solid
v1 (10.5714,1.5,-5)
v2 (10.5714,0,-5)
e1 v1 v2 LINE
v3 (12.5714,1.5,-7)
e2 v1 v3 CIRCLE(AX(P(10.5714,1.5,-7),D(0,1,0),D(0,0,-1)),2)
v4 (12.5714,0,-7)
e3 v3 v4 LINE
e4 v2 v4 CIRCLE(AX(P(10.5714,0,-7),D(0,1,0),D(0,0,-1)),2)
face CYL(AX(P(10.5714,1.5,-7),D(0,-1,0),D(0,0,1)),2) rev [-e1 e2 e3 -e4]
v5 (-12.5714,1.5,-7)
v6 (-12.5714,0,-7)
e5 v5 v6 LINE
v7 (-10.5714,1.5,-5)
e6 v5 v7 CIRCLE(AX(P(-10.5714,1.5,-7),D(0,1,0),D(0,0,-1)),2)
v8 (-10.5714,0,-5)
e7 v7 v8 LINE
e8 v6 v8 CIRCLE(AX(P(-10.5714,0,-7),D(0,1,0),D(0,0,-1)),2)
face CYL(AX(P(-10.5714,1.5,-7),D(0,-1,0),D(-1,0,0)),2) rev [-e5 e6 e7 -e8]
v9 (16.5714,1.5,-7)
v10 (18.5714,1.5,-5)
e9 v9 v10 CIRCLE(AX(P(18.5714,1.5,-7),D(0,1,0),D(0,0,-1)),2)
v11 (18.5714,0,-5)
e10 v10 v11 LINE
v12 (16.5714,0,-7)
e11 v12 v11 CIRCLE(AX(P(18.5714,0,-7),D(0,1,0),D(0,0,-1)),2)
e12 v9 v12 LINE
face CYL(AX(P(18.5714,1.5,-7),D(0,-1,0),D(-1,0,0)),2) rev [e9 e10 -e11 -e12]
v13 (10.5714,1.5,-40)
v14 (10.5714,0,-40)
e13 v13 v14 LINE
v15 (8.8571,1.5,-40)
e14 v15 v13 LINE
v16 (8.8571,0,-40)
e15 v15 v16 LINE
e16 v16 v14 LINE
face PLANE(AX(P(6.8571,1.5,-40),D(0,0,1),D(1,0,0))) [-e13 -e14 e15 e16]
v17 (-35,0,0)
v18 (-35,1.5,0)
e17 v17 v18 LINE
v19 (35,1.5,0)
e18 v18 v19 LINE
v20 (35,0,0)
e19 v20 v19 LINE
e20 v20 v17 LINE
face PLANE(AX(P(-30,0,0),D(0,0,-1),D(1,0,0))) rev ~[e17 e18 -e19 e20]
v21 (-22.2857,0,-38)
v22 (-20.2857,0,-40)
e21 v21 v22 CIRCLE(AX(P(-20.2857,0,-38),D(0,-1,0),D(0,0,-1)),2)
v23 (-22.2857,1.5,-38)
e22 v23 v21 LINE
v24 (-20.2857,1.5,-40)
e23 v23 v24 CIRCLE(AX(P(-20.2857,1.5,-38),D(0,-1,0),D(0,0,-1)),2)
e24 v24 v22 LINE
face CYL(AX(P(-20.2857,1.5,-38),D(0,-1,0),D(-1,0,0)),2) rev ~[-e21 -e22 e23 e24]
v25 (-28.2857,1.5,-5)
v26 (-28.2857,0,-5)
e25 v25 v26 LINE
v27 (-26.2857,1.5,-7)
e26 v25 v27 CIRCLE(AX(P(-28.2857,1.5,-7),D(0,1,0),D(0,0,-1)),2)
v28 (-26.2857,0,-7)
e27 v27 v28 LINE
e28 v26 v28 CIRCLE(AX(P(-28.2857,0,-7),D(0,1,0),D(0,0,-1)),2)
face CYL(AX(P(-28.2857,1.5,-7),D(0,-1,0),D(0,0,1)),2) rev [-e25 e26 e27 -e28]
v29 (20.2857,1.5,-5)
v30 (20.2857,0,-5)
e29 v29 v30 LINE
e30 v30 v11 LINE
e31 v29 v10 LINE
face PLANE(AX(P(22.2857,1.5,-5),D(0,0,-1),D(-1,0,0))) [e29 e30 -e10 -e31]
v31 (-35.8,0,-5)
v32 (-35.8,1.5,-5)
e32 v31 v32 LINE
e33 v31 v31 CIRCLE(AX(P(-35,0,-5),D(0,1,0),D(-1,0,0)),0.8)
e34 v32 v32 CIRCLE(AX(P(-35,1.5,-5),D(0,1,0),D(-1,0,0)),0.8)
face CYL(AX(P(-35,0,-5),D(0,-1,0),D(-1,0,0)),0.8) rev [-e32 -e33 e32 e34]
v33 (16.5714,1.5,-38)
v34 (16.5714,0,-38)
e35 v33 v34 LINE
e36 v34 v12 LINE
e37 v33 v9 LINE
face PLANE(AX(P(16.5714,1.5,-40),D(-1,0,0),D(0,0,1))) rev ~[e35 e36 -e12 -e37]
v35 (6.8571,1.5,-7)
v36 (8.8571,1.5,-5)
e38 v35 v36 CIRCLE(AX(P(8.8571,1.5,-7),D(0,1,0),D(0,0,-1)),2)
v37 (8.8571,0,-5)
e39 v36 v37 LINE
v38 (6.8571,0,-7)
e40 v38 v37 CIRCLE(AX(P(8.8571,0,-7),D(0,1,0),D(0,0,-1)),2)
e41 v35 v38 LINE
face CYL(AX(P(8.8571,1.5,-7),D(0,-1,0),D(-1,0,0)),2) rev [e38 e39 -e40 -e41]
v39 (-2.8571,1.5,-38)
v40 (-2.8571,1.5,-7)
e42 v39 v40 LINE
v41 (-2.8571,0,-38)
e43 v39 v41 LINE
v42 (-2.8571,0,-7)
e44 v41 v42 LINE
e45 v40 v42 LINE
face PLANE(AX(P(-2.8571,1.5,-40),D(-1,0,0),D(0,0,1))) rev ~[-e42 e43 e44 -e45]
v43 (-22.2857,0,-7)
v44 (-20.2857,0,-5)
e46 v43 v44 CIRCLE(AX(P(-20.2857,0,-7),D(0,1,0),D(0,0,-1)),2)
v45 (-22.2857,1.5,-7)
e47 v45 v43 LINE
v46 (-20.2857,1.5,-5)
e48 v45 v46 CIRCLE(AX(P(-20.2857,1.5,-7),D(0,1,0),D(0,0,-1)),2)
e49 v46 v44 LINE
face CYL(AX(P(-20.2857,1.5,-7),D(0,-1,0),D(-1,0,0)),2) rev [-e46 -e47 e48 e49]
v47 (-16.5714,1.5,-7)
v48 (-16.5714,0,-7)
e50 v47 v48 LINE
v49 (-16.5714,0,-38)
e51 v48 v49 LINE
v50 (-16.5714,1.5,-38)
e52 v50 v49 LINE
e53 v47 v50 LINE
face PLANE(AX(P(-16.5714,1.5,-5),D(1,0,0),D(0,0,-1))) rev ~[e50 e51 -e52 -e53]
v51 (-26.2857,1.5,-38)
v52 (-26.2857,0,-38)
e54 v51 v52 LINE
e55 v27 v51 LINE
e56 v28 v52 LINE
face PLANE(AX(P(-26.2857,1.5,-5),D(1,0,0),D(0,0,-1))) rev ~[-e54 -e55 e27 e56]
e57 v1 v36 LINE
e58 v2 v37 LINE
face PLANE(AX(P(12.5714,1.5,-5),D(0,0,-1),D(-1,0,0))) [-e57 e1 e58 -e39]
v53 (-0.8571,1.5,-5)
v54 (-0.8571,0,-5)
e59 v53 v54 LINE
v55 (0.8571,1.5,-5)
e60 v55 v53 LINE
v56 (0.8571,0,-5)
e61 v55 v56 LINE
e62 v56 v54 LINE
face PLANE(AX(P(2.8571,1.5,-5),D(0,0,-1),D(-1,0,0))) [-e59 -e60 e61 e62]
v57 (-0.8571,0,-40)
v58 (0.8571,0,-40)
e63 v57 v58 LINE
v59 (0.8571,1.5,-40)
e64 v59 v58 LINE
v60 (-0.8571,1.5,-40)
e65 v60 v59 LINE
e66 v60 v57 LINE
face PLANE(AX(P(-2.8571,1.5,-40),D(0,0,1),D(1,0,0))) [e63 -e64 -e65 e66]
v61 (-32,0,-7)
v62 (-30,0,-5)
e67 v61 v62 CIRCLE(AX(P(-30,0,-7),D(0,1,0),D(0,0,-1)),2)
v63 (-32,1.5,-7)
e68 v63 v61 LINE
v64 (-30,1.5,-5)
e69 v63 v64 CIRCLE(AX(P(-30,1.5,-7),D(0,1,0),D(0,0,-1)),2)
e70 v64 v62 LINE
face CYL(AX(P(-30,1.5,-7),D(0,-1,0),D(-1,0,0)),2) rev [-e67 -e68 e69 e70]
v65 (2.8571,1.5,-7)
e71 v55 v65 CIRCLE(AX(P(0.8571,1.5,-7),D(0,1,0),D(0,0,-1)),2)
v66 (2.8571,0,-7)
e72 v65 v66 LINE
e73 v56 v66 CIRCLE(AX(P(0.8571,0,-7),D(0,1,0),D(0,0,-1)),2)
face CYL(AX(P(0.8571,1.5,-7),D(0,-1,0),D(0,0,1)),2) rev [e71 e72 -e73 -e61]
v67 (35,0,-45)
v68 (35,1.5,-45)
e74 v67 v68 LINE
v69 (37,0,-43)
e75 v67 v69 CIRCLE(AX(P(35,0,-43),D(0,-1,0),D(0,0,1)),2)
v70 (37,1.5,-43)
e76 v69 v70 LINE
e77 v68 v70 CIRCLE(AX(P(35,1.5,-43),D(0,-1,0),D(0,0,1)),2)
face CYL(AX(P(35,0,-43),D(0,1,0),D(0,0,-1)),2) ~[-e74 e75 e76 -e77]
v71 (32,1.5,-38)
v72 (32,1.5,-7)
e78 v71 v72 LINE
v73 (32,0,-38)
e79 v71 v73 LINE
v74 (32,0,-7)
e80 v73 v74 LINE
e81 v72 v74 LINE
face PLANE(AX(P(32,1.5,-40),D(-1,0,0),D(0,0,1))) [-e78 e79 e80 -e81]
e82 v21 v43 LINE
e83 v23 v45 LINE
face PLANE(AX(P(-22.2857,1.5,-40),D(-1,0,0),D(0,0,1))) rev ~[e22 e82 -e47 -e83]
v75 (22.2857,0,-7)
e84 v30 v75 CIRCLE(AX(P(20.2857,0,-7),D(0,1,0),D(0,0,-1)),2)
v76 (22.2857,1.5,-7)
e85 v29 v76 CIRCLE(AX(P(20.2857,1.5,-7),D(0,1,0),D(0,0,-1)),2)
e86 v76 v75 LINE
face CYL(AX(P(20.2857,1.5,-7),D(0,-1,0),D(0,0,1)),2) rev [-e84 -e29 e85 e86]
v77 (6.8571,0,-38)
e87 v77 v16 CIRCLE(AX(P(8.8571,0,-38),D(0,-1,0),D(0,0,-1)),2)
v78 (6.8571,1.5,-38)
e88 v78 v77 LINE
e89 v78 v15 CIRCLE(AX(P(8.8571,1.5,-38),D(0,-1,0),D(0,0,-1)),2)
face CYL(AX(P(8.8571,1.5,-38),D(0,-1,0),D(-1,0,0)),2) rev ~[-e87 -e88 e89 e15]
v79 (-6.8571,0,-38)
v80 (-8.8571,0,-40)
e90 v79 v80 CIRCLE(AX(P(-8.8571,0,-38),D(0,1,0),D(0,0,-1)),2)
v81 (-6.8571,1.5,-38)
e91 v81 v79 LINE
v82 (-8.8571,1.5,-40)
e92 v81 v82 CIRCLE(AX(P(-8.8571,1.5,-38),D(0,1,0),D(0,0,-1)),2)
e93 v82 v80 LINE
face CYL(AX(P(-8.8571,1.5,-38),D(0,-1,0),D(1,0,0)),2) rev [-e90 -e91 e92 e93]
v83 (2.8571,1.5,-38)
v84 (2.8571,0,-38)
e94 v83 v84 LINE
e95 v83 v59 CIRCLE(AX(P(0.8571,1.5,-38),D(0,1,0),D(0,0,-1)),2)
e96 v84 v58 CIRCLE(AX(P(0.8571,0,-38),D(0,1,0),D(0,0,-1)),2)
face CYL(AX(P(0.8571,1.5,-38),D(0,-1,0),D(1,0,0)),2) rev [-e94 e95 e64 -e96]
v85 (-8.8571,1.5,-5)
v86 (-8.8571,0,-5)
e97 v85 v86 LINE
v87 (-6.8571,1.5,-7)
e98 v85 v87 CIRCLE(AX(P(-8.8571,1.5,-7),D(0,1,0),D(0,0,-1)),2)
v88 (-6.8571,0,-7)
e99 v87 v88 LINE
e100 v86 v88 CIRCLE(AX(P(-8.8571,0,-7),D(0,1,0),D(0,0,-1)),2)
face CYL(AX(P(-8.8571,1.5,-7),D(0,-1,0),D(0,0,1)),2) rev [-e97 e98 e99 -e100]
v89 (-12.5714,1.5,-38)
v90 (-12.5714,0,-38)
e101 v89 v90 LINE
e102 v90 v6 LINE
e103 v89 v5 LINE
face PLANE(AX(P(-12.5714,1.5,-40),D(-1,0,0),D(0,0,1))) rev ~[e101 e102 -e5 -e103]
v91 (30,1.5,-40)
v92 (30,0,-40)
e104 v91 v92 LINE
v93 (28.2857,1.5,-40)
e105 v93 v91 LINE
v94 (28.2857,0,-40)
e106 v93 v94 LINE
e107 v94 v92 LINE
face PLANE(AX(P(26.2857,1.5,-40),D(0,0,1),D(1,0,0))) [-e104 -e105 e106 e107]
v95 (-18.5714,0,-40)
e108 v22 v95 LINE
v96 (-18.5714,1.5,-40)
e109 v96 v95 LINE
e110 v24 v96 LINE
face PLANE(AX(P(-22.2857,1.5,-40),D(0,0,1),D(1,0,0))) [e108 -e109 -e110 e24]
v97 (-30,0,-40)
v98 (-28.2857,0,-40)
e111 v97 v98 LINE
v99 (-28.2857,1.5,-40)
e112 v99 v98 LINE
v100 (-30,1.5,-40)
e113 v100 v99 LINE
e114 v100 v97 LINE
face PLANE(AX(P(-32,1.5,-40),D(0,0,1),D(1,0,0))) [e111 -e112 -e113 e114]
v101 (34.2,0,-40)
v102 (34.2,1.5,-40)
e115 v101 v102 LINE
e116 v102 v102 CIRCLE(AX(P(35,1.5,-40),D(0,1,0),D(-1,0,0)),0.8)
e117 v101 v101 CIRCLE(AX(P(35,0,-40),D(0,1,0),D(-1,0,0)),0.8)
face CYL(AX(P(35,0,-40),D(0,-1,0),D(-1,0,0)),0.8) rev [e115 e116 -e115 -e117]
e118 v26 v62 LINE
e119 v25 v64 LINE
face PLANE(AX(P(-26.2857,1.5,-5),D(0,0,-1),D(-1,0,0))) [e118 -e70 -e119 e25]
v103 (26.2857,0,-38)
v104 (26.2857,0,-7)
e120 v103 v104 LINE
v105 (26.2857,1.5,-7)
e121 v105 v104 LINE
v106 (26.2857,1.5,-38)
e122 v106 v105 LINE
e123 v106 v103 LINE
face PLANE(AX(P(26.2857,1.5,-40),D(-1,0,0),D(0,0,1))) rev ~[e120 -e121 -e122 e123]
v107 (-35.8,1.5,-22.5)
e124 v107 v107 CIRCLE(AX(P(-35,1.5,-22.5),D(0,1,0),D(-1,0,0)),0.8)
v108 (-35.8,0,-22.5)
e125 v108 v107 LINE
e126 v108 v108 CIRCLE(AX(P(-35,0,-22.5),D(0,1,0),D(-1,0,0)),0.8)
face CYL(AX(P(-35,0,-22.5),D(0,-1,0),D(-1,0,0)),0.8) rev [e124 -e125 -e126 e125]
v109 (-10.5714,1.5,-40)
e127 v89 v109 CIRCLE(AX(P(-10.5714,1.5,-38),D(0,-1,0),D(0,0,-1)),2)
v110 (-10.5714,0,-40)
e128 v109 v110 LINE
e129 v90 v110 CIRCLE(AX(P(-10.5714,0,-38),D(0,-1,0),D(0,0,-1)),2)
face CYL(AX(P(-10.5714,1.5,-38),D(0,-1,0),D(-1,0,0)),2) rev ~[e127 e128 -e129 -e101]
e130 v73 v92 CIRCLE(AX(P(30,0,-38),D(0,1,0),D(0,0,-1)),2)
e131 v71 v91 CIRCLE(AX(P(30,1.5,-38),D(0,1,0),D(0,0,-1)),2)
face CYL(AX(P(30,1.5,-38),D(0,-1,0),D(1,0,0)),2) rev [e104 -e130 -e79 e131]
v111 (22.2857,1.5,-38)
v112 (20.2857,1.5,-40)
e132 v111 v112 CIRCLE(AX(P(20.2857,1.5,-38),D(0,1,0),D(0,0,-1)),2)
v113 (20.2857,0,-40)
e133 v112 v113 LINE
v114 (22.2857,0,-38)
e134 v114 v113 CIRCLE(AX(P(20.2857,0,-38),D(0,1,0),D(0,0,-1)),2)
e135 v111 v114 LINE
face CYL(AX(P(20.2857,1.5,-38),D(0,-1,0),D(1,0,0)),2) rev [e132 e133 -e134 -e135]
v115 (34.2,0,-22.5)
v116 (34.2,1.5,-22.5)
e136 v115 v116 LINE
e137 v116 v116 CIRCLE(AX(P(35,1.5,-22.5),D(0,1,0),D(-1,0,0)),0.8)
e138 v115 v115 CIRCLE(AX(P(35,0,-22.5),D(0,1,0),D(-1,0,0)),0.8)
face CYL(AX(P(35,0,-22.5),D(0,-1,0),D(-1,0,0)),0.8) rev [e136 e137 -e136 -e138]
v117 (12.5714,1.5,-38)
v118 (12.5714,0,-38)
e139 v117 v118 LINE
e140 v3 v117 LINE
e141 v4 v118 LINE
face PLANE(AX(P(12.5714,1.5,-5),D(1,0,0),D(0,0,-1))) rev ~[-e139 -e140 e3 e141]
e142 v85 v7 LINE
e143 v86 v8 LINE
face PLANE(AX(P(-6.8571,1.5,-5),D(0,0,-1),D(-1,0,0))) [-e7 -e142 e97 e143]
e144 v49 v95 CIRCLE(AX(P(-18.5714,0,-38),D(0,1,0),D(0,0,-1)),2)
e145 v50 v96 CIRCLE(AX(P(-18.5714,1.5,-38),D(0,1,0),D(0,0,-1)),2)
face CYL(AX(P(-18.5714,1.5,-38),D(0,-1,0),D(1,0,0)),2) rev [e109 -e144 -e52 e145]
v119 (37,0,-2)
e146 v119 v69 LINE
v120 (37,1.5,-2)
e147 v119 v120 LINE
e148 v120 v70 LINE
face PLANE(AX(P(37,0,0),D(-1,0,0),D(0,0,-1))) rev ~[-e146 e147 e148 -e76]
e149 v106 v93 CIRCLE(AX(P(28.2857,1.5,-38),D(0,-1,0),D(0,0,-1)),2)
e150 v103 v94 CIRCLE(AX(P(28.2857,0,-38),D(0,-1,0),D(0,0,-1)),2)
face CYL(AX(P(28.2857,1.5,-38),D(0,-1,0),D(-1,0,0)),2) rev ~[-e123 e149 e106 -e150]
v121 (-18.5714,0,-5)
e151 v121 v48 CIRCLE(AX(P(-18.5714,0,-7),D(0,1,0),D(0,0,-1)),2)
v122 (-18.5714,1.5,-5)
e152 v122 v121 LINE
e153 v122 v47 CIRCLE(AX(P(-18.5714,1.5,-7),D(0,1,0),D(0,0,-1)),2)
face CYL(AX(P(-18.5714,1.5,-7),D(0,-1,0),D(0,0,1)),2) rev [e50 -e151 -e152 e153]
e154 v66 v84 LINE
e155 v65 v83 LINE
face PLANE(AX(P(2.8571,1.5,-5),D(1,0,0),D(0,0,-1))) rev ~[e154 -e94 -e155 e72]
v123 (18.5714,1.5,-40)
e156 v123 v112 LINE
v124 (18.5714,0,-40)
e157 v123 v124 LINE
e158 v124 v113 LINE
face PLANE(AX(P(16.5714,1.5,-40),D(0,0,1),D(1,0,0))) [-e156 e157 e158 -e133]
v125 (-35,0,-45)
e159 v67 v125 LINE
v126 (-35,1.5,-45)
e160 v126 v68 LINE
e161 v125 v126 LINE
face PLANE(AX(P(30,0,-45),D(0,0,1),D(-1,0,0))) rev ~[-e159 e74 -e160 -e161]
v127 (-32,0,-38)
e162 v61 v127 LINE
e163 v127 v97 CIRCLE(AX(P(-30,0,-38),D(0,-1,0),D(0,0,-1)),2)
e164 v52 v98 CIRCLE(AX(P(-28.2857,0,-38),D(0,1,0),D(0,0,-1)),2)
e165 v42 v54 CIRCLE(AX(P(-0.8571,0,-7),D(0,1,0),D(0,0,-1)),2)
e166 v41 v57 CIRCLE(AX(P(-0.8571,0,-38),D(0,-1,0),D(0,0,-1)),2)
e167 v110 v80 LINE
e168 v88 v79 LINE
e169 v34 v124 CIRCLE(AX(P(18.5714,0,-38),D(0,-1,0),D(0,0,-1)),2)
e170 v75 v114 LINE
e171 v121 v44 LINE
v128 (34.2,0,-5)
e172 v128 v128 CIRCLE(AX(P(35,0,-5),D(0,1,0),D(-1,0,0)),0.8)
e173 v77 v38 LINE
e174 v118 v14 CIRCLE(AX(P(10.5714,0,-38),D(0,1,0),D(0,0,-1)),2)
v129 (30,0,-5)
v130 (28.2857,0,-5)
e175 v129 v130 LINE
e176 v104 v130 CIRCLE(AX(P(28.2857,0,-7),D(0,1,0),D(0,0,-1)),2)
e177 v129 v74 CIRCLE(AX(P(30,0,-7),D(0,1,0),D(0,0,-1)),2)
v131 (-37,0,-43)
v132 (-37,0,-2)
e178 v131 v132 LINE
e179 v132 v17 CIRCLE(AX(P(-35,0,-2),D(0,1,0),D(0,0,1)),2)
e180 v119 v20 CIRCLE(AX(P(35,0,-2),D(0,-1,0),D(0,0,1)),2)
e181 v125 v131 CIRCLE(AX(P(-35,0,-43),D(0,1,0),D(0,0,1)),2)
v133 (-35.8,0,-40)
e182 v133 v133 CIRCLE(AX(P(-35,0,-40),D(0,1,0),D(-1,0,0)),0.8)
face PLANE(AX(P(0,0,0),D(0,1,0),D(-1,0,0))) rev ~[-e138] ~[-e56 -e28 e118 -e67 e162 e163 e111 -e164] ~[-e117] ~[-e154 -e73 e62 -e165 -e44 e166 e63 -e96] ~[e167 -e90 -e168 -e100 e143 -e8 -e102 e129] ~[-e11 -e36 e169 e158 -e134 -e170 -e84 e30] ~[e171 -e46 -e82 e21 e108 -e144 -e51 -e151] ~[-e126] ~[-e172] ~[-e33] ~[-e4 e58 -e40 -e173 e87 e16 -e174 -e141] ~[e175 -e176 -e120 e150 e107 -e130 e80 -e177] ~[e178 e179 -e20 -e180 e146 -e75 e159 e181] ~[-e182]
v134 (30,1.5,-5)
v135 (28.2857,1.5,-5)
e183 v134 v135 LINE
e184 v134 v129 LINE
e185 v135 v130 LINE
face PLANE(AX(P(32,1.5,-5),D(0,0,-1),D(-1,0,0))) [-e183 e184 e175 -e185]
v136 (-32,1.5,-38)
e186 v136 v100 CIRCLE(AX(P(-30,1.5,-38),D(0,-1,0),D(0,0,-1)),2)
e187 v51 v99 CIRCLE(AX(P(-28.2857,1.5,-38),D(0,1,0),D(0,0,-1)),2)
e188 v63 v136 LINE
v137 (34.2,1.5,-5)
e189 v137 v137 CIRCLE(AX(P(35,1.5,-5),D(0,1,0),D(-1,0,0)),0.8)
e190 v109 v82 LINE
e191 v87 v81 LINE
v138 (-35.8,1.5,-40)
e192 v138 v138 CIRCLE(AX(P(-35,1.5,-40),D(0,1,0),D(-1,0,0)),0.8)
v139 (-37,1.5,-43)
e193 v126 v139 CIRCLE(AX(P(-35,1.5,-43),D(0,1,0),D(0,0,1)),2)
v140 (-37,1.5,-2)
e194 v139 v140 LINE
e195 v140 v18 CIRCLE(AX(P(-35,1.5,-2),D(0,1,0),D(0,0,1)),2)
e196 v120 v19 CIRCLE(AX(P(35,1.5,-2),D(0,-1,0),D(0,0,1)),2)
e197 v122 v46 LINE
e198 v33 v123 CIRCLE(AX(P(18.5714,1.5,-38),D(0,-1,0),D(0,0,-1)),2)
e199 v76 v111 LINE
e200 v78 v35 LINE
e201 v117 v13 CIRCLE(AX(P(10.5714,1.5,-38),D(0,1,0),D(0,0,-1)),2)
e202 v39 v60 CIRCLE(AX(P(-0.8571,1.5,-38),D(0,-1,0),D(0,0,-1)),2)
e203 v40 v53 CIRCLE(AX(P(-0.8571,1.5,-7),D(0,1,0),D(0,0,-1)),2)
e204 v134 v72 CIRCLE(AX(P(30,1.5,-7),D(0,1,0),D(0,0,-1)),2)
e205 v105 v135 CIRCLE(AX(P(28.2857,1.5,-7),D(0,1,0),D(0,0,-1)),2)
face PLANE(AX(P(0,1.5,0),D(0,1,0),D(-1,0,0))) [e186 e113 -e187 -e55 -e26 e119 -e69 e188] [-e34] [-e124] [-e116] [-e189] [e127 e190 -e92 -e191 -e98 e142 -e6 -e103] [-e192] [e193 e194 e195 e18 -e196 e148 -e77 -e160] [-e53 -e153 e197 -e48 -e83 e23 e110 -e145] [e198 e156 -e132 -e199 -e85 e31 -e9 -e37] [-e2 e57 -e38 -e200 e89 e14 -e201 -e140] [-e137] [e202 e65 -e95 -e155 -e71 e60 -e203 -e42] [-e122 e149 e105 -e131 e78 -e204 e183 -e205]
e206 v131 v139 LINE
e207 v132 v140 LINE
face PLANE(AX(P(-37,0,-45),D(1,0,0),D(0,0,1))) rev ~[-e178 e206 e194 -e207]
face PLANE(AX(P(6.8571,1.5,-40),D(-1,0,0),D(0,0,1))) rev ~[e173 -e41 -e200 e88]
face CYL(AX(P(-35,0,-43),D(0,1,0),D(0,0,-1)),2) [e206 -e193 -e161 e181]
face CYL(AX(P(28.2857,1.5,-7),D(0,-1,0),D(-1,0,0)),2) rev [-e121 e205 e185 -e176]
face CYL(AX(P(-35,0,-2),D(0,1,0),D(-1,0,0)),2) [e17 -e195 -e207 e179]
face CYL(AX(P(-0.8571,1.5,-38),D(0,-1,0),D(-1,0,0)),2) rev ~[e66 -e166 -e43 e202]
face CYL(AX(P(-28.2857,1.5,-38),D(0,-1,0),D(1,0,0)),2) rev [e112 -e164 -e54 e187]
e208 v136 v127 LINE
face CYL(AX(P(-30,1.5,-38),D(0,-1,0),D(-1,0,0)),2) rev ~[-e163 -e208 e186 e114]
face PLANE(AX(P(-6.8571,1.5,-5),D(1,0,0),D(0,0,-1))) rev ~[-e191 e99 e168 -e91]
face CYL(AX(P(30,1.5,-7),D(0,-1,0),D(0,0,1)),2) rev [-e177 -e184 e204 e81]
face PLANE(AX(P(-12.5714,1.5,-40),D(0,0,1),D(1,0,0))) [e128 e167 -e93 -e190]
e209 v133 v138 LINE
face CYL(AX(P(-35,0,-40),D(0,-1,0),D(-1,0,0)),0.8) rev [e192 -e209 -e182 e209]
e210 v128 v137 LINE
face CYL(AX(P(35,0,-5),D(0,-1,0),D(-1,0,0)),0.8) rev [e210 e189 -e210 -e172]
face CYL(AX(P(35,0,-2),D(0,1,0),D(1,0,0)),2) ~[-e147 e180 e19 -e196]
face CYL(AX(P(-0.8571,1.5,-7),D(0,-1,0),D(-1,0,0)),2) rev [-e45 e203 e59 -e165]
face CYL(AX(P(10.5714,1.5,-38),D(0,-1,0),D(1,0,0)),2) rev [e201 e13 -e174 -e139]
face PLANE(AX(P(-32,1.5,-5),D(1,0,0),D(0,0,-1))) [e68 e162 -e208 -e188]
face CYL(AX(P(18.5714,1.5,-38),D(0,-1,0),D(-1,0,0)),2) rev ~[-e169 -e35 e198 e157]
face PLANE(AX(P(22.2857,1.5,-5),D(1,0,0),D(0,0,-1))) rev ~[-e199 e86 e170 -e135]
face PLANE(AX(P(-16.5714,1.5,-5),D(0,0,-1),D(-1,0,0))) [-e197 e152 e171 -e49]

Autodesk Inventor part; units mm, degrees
ref_plane "YZ Plane" through (0, 0, 0) normal (1, 0, 0) x (0, 1, 0)
ref_plane "XZ Plane" through (0, 0, 0) normal (0, 1, 0) x (-1, 0, 0)
ref_plane "XY Plane" through (0, 0, 0) normal (0, 0, 1) x (1, 0, 0)
sketch "スケッチ1" plane through (0, 0, 0) normal (0, 1, 0) x (-1, 0, 0)
  line L0 (30, 0) -> (-30, 0)
  line L1 (-30, 0) -> (-30, -45)
  line L2 (-30, -45) -> (30, -45)
  line L3 (30, -45) -> (30, 0)
  line L4 (37, 0) -> (30, 0)
  line L5 (30, 0) -> (30, -45)
  line L6 (30, -45) -> (37, -45)
  line L7 (37, -45) -> (37, 0)
  line L8 (-30, 0) -> (-37, 0)
  line L9 (-37, 0) -> (-37, -45)
  line L10 (-37, -45) -> (-30, -45)
  line L11 (-30, -45) -> (-30, 0)
  line L12 (37, 0) -> (35, 0)
  line L13 (35, 0) -> (35, -45) construction
  line L14 (35, -45) -> (37, -45)
  line L15 (37, -45) -> (37, 0)
  line L16 (-37, 0) -> (-35, 0)
  line L17 (-35, 0) -> (-35, -45) construction
  line L18 (-35, -45) -> (-37, -45)
  line L19 (-37, -45) -> (-37, 0)
  circle A0 centre (35, -5) radius 0.8
  circle A1 centre (35, -40) radius 0.8
  circle A2 centre (-35, -5) radius 0.8
  circle A3 centre (-35, -40) radius 0.8
  circle A4 centre (-35, -22.5) radius 0.8
  circle A5 centre (35, -22.5) radius 0.8
  point P0 (0, 0)
  point P1 (0, 0)
  point P2 (30, 0)
  dimension "d0" = 60
  dimension "d1" = 45
  dimension "d4" = 7
  dimension "d5" = 2
  dimension "d6" = 2
  dimension "d7" = 1.6
  dimension "d8" = 1.6
  dimension "d9" = 1.6
  dimension "d10" = 1.6
  dimension "d11" = 5
  dimension "d12" = 5
  dimension "d13" = 1.6
  dimension "d14" = 1.6
extrude "押し出し1" add sketch "スケッチ1" along normal blind 1.5
sketch "スケッチ2" plane through (0, 1.5, 0) normal (0, 1, 0) x (1, 0, 0)
  circle A0 centre (-35, 40) radius 0.8 projected
  circle A1 centre (35, 5) radius 0.8 projected
  line L0 (-35, 40) -> (35, 40)
  line L1 (35, 40) -> (35, 5)
  line L2 (35, 5) -> (-35, 5)
  line L3 (-35, 5) -> (-35, 40)
  line L4 (-32, 40) -> (32, 40)
  line L5 (32, 40) -> (32, 5)
  line L6 (32, 5) -> (-32, 5)
  line L7 (-32, 5) -> (-32, 40)
  line L8 (-26.2857, 40) -> (-22.2857, 40)
  line L9 (-22.2857, 40) -> (-22.2857, 5)
  line L10 (-22.2857, 5) -> (-26.2857, 5)
  line L11 (-26.2857, 5) -> (-26.2857, 40)
  line L12 (-16.5714, 40) -> (-12.5714, 40)
  line L13 (-12.5714, 40) -> (-12.5714, 5)
  line L14 (-12.5714, 5) -> (-16.5714, 5)
  line L15 (-16.5714, 5) -> (-16.5714, 40)
  line L16 (-6.8571, 40) -> (-2.8571, 40)
  line L17 (-2.8571, 40) -> (-2.8571, 5)
  line L18 (-2.8571, 5) -> (-6.8571, 5)
  line L19 (-6.8571, 5) -> (-6.8571, 40)
  line L20 (2.8571, 40) -> (6.8571, 40)
  line L21 (6.8571, 40) -> (6.8571, 5)
  line L22 (6.8571, 5) -> (2.8571, 5)
  line L23 (2.8571, 5) -> (2.8571, 40)
  line L24 (12.5714, 40) -> (16.5714, 40)
  line L25 (16.5714, 40) -> (16.5714, 5)
  line L26 (16.5714, 5) -> (12.5714, 5)
  line L27 (12.5714, 5) -> (12.5714, 40)
  line L28 (22.2857, 40) -> (26.2857, 40)
  line L29 (26.2857, 40) -> (26.2857, 5)
  line L30 (26.2857, 5) -> (22.2857, 5)
  line L31 (22.2857, 5) -> (22.2857, 40)
  point P0 (0, 0)
  point P1 (32, 40)
  point P2 (6.8571, 5)
  dimension "d16" = 3
  dimension "d17" = 3
  dimension "d18" = 4
  dimension "d19" = 5.7143
  dimension "d20" = 5.7143
  dimension "d21" = 5.7143
  dimension "d22" = 5.7143
  dimension "d23" = 5.7143
  dimension "d24" = 5.7143
  dimension "d25" = 5.7143
extrude "押し出し2" cut sketch "スケッチ2" against normal through all contours L0 L11 L2 L7 | L0 L15 L2 L9 | L0 L19 L2 L13 | L0 L23 L2 L17 | L0 L27 L2 L21 | L0 L31 L2 L25 | L0 L5 L2 L29
fillet "フィレット1" radius 2 32 edges at (-37, 0.75, 0) (-37, 0.75, -45) (37, 0.75, 0) (37, 0.75, -45) (-32, 0.75, -40) (-22.2857, 0.75, -40) (-12.5714, 0.75, -40) (-2.8571, 0.75, -40) (6.8571, 0.75, -40) (16.5714, 0.75, -40) (26.2857, 0.75, -40) (32, 0.75, -40) (22.2857, 0.75, -40) (12.5714, 0.75, -40) (2.8571, 0.75, -40) (-6.8571, 0.75, -40) (-16.5714, 0.75, -40) (-26.2857, 0.75, -40) (-26.2857, 0.75, -5) (-16.5714, 0.75, -5) (-6.8571, 0.75, -5) (2.8571, 0.75, -5) (12.5714, 0.75, -5) (22.2857, 0.75, -5) (32, 0.75, -5) (-32, 0.75, -5) (-22.2857, 0.75, -5) (-12.5714, 0.75, -5) (-2.8571, 0.75, -5) (6.8571, 0.75, -5) (16.5714, 0.75, -5) (26.2857, 0.75, -5)
equation "\"d19\" = d25"
equation "\"d20\" = d25"
equation "\"d21\" = d25"
equation "\"d22\" = d25"
equation "\"d23\" = d25"
equation "\"d24\" = d25"
properties part number "chest_cover_top"
